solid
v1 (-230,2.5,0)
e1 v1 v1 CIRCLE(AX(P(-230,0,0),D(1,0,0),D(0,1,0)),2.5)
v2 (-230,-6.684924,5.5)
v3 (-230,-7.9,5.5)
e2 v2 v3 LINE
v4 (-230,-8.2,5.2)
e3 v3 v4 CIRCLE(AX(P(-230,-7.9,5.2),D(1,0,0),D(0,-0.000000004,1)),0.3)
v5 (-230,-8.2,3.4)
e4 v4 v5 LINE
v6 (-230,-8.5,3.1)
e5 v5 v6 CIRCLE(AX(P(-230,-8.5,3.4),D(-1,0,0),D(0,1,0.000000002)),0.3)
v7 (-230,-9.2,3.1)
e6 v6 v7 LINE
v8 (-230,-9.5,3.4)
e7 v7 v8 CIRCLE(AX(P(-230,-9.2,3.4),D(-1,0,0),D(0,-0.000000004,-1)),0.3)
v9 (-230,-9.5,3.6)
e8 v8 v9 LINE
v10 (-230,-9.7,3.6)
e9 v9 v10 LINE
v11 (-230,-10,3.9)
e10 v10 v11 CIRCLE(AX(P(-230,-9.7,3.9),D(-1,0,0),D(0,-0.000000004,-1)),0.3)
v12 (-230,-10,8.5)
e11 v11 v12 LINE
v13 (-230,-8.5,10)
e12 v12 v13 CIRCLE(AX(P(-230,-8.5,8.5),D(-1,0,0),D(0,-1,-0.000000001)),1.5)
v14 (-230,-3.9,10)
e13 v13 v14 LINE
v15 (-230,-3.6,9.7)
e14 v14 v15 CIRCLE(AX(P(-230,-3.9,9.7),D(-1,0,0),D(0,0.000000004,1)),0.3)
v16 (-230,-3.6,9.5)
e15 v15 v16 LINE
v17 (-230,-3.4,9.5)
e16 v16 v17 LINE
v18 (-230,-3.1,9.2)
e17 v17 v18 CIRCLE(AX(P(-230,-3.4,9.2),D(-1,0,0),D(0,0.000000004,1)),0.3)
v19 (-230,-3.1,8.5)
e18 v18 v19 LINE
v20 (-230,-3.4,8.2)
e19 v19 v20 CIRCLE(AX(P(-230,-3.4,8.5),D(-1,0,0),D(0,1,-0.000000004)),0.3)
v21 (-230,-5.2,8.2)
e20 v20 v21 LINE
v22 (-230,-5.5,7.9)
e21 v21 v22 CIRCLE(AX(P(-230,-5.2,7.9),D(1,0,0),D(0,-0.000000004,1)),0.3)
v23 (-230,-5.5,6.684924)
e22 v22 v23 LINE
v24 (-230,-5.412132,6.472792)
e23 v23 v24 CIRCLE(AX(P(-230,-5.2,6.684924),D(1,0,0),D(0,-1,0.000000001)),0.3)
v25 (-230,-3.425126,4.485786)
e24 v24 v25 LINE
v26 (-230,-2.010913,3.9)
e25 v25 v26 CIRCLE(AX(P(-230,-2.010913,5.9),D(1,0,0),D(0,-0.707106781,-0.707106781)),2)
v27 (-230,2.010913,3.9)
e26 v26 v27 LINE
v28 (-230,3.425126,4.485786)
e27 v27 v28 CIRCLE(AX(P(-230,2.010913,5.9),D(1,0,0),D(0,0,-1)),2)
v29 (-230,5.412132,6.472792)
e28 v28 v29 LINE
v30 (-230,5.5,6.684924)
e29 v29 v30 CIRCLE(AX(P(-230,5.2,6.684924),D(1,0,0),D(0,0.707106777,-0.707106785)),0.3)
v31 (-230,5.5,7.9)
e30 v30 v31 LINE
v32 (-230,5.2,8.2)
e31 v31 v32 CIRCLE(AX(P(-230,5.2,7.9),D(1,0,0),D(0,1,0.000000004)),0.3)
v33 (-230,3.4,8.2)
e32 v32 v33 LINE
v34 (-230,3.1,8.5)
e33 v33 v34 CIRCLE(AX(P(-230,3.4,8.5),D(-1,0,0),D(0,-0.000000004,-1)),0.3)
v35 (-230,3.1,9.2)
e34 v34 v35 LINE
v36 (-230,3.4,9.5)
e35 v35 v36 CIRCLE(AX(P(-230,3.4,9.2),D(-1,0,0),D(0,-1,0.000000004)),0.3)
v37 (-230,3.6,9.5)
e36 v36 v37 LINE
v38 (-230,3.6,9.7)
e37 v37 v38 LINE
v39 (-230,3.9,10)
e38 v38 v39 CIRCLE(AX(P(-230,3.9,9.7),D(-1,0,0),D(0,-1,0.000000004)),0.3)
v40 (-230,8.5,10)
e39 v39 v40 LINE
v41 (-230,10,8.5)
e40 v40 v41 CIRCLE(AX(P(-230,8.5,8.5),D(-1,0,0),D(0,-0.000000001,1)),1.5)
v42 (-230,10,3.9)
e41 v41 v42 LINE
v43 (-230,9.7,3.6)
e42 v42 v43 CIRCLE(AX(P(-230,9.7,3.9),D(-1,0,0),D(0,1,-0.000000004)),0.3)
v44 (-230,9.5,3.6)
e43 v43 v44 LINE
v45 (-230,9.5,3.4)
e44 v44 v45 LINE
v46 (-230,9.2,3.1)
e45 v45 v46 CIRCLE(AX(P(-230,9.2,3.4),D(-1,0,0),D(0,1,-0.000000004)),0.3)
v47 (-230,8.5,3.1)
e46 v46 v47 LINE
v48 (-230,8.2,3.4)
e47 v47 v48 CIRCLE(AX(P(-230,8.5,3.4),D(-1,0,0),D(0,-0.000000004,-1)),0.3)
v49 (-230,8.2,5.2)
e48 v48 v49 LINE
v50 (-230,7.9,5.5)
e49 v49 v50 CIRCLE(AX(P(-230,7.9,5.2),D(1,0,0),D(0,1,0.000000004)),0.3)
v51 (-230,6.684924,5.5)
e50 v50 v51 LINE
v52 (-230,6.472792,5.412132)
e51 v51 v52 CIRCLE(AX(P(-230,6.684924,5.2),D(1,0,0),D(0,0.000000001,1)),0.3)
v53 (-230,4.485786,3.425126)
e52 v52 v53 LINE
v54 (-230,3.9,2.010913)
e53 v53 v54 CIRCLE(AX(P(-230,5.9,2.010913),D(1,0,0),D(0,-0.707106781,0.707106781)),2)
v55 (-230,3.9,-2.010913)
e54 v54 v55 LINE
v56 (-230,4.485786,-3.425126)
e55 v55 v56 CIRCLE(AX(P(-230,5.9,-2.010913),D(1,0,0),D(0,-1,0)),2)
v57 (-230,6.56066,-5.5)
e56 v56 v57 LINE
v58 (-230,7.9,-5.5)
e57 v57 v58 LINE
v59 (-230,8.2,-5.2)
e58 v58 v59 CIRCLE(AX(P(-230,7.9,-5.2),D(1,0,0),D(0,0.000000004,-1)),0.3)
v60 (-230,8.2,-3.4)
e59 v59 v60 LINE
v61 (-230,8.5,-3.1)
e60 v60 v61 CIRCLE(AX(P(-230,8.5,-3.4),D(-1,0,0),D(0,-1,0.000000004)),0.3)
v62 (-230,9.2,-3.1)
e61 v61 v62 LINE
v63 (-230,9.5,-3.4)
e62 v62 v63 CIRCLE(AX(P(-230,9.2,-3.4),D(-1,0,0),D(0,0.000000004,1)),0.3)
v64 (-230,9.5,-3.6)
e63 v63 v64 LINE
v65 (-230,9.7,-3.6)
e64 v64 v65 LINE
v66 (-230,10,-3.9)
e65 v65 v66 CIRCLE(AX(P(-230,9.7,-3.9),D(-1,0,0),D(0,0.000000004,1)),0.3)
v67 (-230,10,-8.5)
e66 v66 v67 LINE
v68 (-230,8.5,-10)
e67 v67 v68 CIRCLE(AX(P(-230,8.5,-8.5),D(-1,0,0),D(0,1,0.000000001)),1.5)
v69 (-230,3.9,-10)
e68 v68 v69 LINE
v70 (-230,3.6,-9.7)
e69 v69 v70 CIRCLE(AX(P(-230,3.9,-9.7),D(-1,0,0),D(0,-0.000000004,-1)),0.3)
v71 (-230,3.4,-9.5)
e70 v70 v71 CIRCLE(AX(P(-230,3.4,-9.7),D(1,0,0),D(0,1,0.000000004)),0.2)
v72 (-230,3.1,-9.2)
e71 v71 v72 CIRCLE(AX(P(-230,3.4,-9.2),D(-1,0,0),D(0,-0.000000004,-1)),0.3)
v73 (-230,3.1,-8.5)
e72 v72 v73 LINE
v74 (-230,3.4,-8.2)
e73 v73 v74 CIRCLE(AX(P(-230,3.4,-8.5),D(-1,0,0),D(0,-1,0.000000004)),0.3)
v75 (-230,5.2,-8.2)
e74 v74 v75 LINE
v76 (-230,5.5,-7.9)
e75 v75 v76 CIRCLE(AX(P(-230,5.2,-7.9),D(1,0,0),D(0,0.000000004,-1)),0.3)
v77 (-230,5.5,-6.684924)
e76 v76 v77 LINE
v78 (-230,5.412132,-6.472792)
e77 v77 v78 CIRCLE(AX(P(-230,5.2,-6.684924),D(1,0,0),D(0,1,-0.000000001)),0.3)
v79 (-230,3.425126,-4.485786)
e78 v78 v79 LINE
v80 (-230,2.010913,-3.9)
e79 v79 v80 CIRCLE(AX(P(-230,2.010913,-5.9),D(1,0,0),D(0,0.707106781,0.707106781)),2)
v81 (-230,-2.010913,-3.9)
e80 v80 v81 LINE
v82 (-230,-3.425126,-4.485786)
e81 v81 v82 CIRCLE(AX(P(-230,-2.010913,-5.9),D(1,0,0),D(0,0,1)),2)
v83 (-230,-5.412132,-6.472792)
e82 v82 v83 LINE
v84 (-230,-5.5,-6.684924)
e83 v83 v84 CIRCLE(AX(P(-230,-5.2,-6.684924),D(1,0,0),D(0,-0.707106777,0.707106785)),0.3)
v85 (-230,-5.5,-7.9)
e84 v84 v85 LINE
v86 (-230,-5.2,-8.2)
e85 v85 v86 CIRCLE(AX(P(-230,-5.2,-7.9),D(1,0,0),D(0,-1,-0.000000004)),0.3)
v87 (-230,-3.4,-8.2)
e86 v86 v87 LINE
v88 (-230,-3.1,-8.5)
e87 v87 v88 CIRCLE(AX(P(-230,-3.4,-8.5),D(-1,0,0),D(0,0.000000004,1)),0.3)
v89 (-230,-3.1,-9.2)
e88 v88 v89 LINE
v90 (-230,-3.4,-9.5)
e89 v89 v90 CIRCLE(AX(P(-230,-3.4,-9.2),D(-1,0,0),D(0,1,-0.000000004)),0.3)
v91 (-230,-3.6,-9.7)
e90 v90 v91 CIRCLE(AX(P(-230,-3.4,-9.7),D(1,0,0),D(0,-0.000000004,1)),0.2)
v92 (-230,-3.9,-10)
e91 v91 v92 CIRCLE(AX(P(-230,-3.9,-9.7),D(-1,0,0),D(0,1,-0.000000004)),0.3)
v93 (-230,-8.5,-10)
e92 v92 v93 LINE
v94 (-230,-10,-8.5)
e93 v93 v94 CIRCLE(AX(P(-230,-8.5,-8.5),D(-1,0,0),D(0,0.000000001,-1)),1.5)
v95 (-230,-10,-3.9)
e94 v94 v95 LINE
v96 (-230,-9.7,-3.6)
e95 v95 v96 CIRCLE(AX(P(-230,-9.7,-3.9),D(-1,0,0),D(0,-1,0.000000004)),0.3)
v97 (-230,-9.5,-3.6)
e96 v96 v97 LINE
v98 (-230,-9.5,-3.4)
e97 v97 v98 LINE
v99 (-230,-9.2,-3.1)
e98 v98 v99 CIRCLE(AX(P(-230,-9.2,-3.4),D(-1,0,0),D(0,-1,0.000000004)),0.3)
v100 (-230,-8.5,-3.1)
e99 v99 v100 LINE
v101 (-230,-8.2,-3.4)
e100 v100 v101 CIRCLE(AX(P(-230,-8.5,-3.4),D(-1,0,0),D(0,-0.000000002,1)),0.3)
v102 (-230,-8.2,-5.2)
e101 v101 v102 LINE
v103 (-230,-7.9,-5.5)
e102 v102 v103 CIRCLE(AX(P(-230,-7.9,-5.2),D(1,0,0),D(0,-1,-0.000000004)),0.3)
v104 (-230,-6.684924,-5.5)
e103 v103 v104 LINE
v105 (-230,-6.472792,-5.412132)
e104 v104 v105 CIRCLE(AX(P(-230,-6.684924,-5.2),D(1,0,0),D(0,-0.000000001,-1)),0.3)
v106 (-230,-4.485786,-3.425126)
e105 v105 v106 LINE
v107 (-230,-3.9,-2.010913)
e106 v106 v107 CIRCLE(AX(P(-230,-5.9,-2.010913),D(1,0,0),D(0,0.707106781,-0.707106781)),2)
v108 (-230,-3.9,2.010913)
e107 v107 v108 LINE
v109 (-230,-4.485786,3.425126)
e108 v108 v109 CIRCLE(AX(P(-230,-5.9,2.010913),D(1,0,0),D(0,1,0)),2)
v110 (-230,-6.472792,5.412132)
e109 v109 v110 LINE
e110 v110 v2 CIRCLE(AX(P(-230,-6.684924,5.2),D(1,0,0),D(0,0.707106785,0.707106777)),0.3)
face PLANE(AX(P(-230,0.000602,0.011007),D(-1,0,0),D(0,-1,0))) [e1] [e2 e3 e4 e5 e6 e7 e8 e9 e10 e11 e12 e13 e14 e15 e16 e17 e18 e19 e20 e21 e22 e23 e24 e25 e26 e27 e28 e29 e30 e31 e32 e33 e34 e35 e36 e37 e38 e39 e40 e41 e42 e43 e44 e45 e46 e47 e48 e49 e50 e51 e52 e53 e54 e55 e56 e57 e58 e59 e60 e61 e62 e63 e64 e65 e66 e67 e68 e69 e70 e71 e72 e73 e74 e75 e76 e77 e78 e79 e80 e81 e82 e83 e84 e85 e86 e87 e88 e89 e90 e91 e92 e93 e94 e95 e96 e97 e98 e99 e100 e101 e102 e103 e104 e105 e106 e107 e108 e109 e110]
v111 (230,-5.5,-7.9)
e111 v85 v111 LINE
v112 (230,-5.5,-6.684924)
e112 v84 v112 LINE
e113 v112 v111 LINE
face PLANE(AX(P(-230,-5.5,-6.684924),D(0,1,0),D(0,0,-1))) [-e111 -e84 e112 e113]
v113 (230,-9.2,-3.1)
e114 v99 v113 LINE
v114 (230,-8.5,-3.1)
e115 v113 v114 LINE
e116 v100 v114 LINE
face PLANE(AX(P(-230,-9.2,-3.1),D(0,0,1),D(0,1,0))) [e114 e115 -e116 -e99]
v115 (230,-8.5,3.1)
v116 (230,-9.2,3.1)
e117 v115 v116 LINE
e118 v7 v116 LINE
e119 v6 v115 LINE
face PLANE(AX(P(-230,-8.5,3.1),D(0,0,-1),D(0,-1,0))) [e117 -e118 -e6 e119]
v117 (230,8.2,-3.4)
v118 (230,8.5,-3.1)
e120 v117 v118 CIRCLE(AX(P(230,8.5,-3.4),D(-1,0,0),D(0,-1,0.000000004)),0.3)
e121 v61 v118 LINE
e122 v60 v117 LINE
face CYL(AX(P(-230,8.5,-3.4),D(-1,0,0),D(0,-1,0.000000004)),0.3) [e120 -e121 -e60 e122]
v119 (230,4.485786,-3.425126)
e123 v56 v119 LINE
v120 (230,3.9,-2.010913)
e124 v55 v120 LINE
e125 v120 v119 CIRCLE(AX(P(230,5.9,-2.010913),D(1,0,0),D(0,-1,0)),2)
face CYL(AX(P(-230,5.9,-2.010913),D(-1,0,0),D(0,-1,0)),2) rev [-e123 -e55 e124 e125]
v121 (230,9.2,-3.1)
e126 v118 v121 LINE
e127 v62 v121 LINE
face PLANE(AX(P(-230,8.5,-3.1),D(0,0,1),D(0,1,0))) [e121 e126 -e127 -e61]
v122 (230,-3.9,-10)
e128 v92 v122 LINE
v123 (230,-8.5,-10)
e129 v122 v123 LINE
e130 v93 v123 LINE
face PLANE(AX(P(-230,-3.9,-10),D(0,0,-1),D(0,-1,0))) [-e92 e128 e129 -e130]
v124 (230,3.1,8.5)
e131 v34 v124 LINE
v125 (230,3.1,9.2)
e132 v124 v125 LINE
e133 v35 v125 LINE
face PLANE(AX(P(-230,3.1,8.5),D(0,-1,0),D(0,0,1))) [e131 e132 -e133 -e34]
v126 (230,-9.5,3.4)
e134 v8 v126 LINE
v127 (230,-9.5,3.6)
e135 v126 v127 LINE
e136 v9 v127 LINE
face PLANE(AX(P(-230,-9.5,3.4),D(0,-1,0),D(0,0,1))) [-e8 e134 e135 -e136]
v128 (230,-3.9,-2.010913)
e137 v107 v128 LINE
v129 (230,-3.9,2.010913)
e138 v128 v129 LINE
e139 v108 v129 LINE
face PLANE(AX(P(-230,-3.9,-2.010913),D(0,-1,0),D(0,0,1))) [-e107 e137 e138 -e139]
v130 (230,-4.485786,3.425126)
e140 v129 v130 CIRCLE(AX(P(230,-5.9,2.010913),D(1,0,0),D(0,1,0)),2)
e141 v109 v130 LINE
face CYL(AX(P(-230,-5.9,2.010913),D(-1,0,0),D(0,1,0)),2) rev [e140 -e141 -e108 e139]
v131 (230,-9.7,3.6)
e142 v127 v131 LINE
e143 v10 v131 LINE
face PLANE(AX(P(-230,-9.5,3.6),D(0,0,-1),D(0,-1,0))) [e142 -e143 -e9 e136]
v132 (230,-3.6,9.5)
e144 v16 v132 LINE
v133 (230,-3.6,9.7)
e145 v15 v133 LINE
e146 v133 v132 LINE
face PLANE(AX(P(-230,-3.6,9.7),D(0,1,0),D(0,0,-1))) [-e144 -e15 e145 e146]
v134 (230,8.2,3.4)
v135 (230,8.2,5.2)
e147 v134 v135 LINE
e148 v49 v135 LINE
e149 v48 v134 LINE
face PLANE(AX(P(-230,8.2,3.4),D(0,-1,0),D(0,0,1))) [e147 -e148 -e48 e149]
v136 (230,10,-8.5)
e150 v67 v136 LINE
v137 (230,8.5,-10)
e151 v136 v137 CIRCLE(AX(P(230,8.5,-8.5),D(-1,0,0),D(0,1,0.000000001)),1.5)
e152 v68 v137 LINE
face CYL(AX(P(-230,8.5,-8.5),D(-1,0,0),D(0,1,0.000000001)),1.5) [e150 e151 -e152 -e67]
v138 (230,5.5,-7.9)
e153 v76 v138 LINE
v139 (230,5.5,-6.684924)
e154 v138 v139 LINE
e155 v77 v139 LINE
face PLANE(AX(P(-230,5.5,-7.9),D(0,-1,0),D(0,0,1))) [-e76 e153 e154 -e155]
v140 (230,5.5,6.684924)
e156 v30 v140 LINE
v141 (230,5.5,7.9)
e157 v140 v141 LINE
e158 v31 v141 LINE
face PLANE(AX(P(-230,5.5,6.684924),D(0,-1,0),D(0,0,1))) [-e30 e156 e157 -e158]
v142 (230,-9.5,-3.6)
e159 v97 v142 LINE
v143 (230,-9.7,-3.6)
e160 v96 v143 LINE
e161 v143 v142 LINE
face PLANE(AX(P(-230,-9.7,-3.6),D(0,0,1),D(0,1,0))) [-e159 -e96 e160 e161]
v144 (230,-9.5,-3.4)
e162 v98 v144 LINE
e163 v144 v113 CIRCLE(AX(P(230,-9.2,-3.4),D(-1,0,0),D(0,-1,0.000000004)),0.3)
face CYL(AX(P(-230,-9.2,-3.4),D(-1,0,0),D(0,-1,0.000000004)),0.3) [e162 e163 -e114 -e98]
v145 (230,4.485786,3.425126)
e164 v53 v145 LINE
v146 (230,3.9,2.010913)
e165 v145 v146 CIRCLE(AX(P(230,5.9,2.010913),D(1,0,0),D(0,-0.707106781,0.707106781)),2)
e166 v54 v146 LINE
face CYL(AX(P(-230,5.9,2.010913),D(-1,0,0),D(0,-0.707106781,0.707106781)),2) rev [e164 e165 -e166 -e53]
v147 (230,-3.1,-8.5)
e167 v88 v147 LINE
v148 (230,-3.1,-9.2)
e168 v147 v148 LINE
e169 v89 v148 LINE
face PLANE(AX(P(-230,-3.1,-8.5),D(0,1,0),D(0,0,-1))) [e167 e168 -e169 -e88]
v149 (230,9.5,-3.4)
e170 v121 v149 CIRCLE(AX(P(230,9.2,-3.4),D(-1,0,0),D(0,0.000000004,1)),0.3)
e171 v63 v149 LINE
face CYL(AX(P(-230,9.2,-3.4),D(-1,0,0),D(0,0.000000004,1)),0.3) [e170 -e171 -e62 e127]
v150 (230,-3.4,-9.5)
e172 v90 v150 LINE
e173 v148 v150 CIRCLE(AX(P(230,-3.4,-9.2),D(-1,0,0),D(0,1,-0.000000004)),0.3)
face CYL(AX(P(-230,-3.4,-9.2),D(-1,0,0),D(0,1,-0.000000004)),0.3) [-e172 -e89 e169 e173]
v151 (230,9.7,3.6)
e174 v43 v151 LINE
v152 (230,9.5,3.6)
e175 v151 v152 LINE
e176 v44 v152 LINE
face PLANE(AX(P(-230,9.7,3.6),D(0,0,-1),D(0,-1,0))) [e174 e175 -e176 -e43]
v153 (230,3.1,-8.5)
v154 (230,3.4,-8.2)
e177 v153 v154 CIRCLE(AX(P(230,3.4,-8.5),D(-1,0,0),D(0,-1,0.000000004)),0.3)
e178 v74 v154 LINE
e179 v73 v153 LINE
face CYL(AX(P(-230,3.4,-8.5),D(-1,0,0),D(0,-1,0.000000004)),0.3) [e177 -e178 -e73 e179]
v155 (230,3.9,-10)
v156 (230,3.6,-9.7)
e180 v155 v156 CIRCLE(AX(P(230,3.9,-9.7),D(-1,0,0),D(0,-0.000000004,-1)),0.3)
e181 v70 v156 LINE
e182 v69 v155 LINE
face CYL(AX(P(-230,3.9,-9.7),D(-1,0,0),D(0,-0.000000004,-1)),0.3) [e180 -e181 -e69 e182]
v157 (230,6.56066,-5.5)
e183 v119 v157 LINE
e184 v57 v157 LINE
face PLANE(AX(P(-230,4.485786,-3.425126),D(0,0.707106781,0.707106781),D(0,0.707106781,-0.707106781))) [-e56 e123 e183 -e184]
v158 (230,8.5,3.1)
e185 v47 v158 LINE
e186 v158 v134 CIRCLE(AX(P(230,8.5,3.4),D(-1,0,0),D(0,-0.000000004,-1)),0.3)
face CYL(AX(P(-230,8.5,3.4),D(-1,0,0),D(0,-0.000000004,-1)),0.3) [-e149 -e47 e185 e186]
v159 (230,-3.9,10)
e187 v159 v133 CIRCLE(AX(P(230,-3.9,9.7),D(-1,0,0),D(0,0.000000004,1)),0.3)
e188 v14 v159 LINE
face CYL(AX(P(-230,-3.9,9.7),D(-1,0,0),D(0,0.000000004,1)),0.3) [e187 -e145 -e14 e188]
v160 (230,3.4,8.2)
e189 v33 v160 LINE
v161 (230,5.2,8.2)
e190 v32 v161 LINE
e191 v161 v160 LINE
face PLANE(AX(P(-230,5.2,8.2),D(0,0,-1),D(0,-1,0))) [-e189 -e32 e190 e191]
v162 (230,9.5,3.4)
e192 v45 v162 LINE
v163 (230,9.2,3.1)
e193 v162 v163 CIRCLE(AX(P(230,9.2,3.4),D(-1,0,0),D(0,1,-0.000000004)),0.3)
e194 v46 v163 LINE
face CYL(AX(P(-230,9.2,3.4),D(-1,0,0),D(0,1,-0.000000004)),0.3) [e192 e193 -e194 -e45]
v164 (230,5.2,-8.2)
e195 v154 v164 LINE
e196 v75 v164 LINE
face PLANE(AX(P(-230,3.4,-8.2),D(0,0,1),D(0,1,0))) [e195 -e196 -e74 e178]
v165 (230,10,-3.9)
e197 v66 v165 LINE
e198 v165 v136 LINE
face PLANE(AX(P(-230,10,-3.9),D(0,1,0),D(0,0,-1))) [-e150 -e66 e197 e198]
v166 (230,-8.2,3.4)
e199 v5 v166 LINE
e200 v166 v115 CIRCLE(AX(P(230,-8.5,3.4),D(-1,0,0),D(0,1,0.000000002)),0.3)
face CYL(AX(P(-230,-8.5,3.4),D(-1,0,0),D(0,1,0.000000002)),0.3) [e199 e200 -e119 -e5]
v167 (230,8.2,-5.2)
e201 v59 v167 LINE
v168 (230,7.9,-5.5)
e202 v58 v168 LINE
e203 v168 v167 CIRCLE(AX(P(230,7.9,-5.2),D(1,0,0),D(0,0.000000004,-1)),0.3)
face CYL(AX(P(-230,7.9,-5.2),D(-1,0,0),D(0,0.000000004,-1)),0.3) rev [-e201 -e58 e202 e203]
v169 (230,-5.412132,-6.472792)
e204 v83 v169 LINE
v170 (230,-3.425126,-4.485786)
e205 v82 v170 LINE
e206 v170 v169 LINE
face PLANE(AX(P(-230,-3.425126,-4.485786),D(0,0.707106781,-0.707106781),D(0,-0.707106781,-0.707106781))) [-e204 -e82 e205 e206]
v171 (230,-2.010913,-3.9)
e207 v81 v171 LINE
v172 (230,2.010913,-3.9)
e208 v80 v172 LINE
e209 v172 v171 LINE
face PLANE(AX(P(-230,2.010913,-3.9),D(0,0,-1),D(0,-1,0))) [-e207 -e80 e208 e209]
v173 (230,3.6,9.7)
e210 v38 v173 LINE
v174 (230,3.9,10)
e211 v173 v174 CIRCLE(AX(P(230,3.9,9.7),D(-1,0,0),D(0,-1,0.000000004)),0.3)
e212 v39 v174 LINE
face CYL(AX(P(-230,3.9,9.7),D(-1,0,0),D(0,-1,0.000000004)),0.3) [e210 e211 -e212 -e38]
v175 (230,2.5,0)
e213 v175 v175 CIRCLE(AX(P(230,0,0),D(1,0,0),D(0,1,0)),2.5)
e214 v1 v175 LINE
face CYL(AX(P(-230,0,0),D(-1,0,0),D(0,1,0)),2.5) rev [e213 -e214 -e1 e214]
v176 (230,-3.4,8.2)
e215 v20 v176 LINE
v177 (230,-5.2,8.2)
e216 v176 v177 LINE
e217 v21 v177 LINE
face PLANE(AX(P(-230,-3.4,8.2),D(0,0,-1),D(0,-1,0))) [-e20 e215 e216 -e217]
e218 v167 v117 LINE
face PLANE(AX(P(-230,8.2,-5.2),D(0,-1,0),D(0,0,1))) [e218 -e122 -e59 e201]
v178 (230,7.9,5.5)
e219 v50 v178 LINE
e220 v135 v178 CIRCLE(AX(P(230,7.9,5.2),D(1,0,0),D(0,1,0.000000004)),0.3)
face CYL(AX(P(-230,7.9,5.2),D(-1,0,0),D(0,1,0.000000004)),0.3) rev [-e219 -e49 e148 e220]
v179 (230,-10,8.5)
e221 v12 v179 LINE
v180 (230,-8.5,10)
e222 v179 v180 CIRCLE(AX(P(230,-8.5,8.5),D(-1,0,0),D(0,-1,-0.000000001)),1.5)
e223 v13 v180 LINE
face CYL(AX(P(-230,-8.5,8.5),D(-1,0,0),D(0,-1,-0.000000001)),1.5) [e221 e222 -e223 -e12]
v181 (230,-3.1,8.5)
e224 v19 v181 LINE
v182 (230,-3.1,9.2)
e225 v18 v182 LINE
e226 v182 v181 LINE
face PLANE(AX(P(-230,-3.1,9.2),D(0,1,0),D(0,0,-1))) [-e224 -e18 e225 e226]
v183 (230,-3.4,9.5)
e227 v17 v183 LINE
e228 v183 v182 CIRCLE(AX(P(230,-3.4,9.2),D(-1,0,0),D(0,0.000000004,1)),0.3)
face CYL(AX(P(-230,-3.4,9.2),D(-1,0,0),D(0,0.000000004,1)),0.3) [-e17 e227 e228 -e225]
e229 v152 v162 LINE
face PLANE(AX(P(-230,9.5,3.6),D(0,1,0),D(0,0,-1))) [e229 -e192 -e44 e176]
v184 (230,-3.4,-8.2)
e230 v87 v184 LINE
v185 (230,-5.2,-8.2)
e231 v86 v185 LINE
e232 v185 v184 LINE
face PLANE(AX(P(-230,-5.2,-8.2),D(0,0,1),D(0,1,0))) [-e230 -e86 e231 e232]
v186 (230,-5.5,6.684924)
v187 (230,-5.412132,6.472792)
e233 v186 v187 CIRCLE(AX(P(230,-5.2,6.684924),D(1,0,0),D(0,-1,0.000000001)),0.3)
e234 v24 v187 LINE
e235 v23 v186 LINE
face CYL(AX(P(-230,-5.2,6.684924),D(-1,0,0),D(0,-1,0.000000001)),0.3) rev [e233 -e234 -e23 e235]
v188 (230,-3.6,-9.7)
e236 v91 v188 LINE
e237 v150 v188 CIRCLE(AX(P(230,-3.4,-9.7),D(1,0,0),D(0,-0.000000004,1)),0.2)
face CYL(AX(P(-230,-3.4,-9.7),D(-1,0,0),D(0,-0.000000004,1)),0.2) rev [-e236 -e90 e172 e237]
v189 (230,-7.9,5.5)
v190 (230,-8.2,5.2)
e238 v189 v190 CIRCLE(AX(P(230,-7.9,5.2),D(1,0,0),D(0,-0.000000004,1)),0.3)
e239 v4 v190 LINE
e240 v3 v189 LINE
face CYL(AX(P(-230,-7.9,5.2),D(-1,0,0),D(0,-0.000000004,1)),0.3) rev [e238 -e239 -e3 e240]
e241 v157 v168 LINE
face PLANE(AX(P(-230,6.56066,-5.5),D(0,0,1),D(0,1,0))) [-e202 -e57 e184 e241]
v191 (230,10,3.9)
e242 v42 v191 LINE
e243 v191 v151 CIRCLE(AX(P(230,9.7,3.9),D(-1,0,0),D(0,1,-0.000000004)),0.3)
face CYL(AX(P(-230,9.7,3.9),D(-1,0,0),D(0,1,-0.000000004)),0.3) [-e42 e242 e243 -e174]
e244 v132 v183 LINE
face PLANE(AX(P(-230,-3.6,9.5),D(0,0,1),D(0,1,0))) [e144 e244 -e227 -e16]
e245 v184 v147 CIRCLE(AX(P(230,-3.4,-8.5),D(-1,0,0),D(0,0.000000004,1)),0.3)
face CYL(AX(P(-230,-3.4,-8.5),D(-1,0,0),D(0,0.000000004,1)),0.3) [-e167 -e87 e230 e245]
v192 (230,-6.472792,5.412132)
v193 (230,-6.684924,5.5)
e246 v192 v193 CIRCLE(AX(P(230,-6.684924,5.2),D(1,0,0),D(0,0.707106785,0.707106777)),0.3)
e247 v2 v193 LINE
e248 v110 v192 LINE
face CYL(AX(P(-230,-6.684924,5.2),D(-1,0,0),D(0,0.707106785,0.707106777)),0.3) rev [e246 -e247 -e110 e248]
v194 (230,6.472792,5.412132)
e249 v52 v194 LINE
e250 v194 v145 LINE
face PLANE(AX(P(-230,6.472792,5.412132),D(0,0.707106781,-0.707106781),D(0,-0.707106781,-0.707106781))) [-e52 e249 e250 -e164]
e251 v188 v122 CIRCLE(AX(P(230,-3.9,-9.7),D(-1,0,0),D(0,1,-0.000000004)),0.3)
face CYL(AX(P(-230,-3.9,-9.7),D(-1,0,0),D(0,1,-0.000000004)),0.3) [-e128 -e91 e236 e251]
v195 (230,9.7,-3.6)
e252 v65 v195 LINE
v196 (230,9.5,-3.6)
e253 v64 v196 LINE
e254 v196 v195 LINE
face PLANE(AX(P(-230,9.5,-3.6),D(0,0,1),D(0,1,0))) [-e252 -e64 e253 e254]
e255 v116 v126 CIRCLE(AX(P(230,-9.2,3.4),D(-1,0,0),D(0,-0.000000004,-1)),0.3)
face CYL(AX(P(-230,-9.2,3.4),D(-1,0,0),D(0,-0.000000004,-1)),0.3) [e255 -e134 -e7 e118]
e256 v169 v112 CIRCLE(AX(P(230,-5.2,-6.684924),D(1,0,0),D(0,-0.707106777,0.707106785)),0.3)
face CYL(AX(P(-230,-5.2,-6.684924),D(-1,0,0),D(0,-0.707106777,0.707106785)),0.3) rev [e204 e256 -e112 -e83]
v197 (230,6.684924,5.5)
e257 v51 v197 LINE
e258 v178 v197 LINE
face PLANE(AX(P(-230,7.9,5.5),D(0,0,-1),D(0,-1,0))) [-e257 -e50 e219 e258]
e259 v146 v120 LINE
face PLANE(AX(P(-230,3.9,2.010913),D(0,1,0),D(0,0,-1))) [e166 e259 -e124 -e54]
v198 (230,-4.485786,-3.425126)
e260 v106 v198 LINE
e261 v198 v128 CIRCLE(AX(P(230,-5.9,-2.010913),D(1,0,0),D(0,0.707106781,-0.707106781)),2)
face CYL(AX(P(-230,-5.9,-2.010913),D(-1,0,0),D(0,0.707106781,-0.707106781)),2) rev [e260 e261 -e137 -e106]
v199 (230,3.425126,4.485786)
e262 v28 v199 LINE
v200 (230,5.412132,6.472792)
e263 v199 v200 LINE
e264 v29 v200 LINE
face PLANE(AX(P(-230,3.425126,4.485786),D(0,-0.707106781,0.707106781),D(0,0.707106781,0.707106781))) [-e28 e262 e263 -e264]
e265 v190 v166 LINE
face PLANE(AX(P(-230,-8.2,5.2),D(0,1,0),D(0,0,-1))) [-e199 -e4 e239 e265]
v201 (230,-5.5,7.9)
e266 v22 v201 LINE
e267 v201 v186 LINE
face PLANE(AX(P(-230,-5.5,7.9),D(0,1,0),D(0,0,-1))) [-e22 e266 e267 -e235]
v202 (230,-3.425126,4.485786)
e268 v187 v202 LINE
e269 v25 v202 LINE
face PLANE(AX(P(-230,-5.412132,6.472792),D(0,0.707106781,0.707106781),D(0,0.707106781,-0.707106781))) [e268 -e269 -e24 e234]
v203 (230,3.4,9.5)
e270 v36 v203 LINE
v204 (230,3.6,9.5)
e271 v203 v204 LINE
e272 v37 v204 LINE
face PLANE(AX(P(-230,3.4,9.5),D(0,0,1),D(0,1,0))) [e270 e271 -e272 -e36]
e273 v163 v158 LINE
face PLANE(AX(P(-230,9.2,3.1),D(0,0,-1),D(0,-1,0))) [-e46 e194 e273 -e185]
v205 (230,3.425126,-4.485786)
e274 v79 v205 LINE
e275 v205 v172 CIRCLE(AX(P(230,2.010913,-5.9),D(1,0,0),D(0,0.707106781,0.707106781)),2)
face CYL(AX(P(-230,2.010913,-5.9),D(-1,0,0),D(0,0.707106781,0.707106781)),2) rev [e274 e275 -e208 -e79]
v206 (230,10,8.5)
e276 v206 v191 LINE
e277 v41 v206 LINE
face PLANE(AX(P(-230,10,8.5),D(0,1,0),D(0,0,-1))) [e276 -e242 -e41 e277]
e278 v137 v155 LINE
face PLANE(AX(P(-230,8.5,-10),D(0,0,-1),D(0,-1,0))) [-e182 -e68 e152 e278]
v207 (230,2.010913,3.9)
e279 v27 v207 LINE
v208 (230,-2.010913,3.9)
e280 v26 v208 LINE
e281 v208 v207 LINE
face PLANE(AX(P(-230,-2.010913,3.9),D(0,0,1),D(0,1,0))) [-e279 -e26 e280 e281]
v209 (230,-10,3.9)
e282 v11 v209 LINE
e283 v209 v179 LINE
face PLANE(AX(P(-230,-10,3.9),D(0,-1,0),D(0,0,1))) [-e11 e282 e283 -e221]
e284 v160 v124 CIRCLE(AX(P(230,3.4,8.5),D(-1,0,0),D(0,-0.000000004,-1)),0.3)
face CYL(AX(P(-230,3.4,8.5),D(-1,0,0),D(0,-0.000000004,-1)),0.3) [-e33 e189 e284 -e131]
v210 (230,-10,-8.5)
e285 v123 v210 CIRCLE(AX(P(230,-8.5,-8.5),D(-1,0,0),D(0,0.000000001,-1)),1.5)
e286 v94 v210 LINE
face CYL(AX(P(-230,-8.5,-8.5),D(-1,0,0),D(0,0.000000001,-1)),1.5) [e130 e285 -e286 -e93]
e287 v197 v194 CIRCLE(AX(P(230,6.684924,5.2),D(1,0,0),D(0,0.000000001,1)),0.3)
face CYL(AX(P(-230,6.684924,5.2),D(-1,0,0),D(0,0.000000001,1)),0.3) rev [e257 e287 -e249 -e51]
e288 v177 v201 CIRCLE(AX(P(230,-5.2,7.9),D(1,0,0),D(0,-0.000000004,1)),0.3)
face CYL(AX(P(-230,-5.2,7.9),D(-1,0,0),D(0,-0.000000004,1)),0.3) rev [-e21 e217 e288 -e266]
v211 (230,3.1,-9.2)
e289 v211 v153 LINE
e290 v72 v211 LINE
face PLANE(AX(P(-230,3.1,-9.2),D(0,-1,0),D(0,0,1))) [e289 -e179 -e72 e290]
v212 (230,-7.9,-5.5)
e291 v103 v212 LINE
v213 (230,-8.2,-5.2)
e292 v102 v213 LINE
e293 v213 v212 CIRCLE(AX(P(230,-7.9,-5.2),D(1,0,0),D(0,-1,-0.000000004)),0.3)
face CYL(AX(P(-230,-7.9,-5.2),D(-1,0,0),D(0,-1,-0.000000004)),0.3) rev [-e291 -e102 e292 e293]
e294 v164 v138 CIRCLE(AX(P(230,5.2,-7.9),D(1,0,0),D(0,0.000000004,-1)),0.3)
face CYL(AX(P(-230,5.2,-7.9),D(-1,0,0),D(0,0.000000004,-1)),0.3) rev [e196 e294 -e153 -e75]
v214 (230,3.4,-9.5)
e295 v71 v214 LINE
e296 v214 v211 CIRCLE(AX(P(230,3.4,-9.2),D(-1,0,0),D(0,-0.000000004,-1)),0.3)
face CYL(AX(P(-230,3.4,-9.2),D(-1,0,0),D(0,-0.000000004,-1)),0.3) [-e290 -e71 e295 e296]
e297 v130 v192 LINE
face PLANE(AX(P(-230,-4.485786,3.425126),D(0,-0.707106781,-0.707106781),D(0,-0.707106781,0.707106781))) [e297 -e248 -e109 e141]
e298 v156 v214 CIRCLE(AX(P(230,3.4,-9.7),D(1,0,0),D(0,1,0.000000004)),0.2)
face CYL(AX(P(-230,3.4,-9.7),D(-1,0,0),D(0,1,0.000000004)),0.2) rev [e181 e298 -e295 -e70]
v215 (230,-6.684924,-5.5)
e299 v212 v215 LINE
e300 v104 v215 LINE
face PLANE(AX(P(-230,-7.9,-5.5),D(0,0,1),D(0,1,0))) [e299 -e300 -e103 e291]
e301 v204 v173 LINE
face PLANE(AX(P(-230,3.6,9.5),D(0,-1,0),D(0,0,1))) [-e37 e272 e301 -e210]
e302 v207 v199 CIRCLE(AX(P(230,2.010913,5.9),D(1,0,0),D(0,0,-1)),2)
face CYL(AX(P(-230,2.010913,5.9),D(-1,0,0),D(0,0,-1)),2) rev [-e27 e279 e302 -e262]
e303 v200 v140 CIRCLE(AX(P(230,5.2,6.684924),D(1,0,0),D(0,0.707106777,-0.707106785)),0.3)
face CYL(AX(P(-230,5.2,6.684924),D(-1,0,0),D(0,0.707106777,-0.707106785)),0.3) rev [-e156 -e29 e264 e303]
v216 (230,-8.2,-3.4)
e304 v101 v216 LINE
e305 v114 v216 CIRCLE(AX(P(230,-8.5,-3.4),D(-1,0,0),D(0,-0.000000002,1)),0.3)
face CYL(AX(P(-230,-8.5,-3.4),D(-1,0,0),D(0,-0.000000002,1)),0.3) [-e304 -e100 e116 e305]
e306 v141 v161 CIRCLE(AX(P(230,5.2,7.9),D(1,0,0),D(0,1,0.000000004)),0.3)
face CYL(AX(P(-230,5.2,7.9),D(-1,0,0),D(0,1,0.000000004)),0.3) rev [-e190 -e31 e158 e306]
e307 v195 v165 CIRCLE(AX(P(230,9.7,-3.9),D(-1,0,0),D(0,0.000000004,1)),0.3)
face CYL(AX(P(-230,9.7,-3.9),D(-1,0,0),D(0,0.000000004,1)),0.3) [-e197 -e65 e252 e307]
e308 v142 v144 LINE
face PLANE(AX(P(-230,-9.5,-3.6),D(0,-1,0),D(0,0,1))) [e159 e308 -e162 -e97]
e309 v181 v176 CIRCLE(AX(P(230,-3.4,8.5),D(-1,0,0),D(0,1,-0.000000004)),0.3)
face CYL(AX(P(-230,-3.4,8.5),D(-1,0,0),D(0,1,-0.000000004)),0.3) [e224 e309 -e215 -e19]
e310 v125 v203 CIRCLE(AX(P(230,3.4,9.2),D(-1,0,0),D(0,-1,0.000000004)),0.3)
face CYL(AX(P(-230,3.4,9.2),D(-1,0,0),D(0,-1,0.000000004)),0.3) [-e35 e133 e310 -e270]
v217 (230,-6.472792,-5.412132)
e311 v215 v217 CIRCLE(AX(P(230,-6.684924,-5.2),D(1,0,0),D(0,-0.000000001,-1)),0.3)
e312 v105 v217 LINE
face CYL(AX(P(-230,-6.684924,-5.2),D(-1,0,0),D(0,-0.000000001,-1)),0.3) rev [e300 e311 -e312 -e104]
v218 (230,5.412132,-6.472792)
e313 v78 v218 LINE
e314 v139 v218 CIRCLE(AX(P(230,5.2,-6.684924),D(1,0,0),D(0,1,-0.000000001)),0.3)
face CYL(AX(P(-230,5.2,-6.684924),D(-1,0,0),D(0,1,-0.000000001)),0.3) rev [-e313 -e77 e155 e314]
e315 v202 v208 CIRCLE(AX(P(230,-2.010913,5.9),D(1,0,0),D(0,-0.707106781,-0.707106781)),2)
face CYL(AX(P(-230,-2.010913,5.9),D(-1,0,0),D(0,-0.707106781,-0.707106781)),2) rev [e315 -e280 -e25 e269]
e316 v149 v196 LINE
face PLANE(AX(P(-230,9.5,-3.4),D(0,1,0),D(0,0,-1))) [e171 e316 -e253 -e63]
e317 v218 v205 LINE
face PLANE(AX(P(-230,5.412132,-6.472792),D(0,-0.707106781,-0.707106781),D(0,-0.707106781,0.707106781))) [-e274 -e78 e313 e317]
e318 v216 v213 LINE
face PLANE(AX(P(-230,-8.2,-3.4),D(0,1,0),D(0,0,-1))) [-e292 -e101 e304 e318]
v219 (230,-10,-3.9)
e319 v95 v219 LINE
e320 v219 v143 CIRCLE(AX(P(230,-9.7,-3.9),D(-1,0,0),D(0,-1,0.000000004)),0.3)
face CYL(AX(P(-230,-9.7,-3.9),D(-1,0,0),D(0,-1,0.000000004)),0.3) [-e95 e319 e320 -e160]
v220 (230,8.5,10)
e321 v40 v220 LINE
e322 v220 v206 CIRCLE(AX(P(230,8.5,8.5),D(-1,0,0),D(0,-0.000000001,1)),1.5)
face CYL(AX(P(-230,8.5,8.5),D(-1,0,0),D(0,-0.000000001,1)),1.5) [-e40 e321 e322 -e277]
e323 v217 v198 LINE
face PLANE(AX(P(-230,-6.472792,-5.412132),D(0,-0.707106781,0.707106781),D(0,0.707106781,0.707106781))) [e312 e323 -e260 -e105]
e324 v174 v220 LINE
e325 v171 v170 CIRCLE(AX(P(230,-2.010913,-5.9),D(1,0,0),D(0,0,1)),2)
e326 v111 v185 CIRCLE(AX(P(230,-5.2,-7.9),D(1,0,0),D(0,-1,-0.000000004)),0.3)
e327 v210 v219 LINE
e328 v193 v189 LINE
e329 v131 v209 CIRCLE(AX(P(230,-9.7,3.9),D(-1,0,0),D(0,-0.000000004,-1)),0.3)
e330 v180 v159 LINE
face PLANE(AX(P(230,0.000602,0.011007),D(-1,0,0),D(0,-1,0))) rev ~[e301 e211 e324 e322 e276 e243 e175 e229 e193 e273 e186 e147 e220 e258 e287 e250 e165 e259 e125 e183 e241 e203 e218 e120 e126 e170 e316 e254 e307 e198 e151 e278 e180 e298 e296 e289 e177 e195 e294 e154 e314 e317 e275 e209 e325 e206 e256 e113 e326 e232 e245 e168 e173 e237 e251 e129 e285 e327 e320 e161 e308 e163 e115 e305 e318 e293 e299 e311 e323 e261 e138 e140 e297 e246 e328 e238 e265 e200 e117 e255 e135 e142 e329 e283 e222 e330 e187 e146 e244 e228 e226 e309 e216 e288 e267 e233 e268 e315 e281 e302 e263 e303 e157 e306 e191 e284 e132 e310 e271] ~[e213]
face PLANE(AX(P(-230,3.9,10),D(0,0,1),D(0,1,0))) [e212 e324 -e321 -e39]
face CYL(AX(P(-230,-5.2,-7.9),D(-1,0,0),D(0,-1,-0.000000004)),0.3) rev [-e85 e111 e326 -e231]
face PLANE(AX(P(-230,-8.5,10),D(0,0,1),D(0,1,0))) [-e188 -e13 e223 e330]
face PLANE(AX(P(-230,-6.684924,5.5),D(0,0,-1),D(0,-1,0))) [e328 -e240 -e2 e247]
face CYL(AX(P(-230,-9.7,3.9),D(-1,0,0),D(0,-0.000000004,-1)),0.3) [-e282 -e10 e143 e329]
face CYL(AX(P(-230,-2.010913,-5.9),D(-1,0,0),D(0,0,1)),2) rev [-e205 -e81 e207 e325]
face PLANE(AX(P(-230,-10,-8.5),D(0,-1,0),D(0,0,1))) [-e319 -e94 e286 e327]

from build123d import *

# Parameters (mm, degrees)
SKETCH_1_R          = 2.5
MEMBER_2020_1_DEPTH = 460


with BuildPart() as part:
    # 草图1 → Member 2020_1 (new body)
    with BuildSketch(Plane.YZ.offset(-230)):
        with BuildLine():
            Line((3.9, 0), (3.9, -2.010912703))
            ThreePointArc((3.9, -2.010912703), (4.052240935, -2.776279568), (4.485786438, -3.425126266))
            Line((4.485786438, -3.425126266), (6.560660172, -5.5))
            Line((6.560660172, -5.5), (7.9, -5.5))
            ThreePointArc((7.9, -5.5), (8.112132034, -5.412132034), (8.2, -5.2))
            Line((8.2, -5.2), (8.2, -3.4))
            ThreePointArc((8.2, -3.4), (8.287867966, -3.187867966), (8.5, -3.1))
            Line((8.5, -3.1), (9.2, -3.1))
            ThreePointArc((9.2, -3.1), (9.412132034, -3.187867966), (9.5, -3.4))
            Line((9.5, -3.4), (9.5, -3.6))
            Line((9.5, -3.6), (9.7, -3.6))
            ThreePointArc((9.7, -3.6), (9.912132034, -3.687867966), (10, -3.9))
            Line((10, -3.9), (10, -8.5))
            ThreePointArc((10, -8.5), (9.560660172, -9.560660172), (8.5, -10))
            Line((8.5, -10), (3.9, -10))
            ThreePointArc((3.9, -10), (3.687867966, -9.912132034), (3.6, -9.7))
            ThreePointArc((3.6, -9.7), (3.541421356, -9.558578644), (3.4, -9.5))
            ThreePointArc((3.4, -9.5), (3.187867966, -9.412132034), (3.1, -9.2))
            Line((3.1, -9.2), (3.1, -8.5))
            ThreePointArc((3.1, -8.5), (3.187867966, -8.287867966), (3.4, -8.2))
            Line((3.4, -8.2), (5.2, -8.2))
            ThreePointArc((5.2, -8.2), (5.412132034, -8.112132034), (5.5, -7.9))
            Line((5.5, -7.9), (5.5, -6.68492424))
            ThreePointArc((5.5, -6.68492424), (5.47716386, -6.570119211), (5.412132034, -6.472792206))
            Line((5.412132034, -6.472792206), (3.425126266, -4.485786438))
            ThreePointArc((3.425126266, -4.485786438), (2.776279568, -4.052240935), (2.010912703, -3.9))
            Line((2.010912703, -3.9), (0, -3.9))
            Line((0, -3.9), (-2.010912703, -3.9))
            ThreePointArc((-2.010912703, -3.9), (-2.776279568, -4.052240935), (-3.425126266, -4.485786438))
            Line((-3.425126266, -4.485786438), (-5.412132034, -6.472792206))
            ThreePointArc((-5.412132034, -6.472792206), (-5.47716386, -6.570119211), (-5.5, -6.68492424))
            Line((-5.5, -6.68492424), (-5.5, -7.9))
            ThreePointArc((-5.5, -7.9), (-5.412132034, -8.112132034), (-5.2, -8.2))
            Line((-5.2, -8.2), (-3.4, -8.2))
            ThreePointArc((-3.4, -8.2), (-3.187867966, -8.287867966), (-3.1, -8.5))
            Line((-3.1, -8.5), (-3.1, -9.2))
            ThreePointArc((-3.1, -9.2), (-3.187867966, -9.412132034), (-3.4, -9.5))
            ThreePointArc((-3.4, -9.5), (-3.541421356, -9.558578644), (-3.6, -9.7))
            ThreePointArc((-3.6, -9.7), (-3.687867966, -9.912132034), (-3.9, -10))
            Line((-3.9, -10), (-8.5, -10))
            ThreePointArc((-8.5, -10), (-9.560660172, -9.560660172), (-10, -8.5))
            Line((-10, -8.5), (-10, -3.9))
            ThreePointArc((-10, -3.9), (-9.912132034, -3.687867966), (-9.7, -3.6))
            Line((-9.7, -3.6), (-9.5, -3.6))
            Line((-9.5, -3.6), (-9.5, -3.4))
            ThreePointArc((-9.5, -3.4), (-9.412132034, -3.187867966), (-9.2, -3.1))
            Line((-9.2, -3.1), (-8.5, -3.1))
            ThreePointArc((-8.5, -3.1), (-8.287867965, -3.187867966), (-8.2, -3.4))
            Line((-8.2, -3.4), (-8.2, -5.2))
            ThreePointArc((-8.2, -5.2), (-8.112132034, -5.412132034), (-7.9, -5.5))
            Line((-7.9, -5.5), (-6.68492424, -5.5))
            ThreePointArc((-6.68492424, -5.5), (-6.570119211, -5.47716386), (-6.472792206, -5.412132034))
            Line((-6.472792206, -5.412132034), (-4.485786438, -3.425126266))
            ThreePointArc((-4.485786438, -3.425126266), (-4.052240935, -2.776279568), (-3.9, -2.010912703))
            Line((-3.9, -2.010912703), (-3.9, 0))
            Line((-3.9, 0), (-3.9, 2.010912703))
            ThreePointArc((-3.9, 2.010912703), (-4.052240935, 2.776279568), (-4.485786438, 3.425126266))
            Line((-4.485786438, 3.425126266), (-6.472792206, 5.412132034))
            ThreePointArc((-6.472792206, 5.412132034), (-6.570119211, 5.47716386), (-6.68492424, 5.5))
            Line((-6.68492424, 5.5), (-7.9, 5.5))
            ThreePointArc((-7.9, 5.5), (-8.112132034, 5.412132034), (-8.2, 5.2))
            Line((-8.2, 5.2), (-8.2, 3.4))
            ThreePointArc((-8.2, 3.4), (-8.287867965, 3.187867966), (-8.5, 3.1))
            Line((-8.5, 3.1), (-9.2, 3.1))
            ThreePointArc((-9.2, 3.1), (-9.412132034, 3.187867966), (-9.5, 3.4))
            Line((-9.5, 3.4), (-9.5, 3.6))
            Line((-9.5, 3.6), (-9.7, 3.6))
            ThreePointArc((-9.7, 3.6), (-9.912132034, 3.687867966), (-10, 3.9))
            Line((-10, 3.9), (-10, 8.5))
            ThreePointArc((-10, 8.5), (-9.560660172, 9.560660172), (-8.5, 10))
            Line((-8.5, 10), (-3.9, 10))
            ThreePointArc((-3.9, 10), (-3.687867966, 9.912132034), (-3.6, 9.7))
            Line((-3.6, 9.7), (-3.6, 9.5))
            Line((-3.6, 9.5), (-3.4, 9.5))
            ThreePointArc((-3.4, 9.5), (-3.187867966, 9.412132034), (-3.1, 9.2))
            Line((-3.1, 9.2), (-3.1, 8.5))
            ThreePointArc((-3.1, 8.5), (-3.187867966, 8.287867966), (-3.4, 8.2))
            Line((-3.4, 8.2), (-5.2, 8.2))
            ThreePointArc((-5.2, 8.2), (-5.412132034, 8.112132034), (-5.5, 7.9))
            Line((-5.5, 7.9), (-5.5, 6.68492424))
            ThreePointArc((-5.5, 6.68492424), (-5.47716386, 6.570119211), (-5.412132034, 6.472792206))
            Line((-5.412132034, 6.472792206), (-3.425126266, 4.485786438))
            ThreePointArc((-3.425126266, 4.485786438), (-2.776279568, 4.052240935), (-2.010912703, 3.9))
            Line((-2.010912703, 3.9), (0, 3.9))
            Line((0, 3.9), (2.010912703, 3.9))
            ThreePointArc((2.010912703, 3.9), (2.776279568, 4.052240935), (3.425126266, 4.485786438))
            Line((3.425126266, 4.485786438), (5.412132034, 6.472792206))
            ThreePointArc((5.412132034, 6.472792206), (5.47716386, 6.570119211), (5.5, 6.68492424))
            Line((5.5, 6.68492424), (5.5, 7.9))
            ThreePointArc((5.5, 7.9), (5.412132034, 8.112132034), (5.2, 8.2))
            Line((5.2, 8.2), (3.4, 8.2))
            ThreePointArc((3.4, 8.2), (3.187867966, 8.287867966), (3.1, 8.5))
            Line((3.1, 8.5), (3.1, 9.2))
            ThreePointArc((3.1, 9.2), (3.187867966, 9.412132034), (3.4, 9.5))
            Line((3.4, 9.5), (3.6, 9.5))
            Line((3.6, 9.5), (3.6, 9.7))
            ThreePointArc((3.6, 9.7), (3.687867966, 9.912132034), (3.9, 10))
            Line((3.9, 10), (8.5, 10))
            ThreePointArc((8.5, 10), (9.560660172, 9.560660172), (10, 8.5))
            Line((10, 8.5), (10, 3.9))
            ThreePointArc((10, 3.9), (9.912132034, 3.687867966), (9.7, 3.6))
            Line((9.7, 3.6), (9.5, 3.6))
            Line((9.5, 3.6), (9.5, 3.4))
            ThreePointArc((9.5, 3.4), (9.412132034, 3.187867966), (9.2, 3.1))
            Line((9.2, 3.1), (8.5, 3.1))
            ThreePointArc((8.5, 3.1), (8.287867966, 3.187867966), (8.2, 3.4))
            Line((8.2, 3.4), (8.2, 5.2))
            ThreePointArc((8.2, 5.2), (8.112132034, 5.412132034), (7.9, 5.5))
            Line((7.9, 5.5), (6.68492424, 5.5))
            ThreePointArc((6.68492424, 5.5), (6.570119211, 5.47716386), (6.472792206, 5.412132034))
            Line((6.472792206, 5.412132034), (4.485786438, 3.425126266))
            ThreePointArc((4.485786438, 3.425126266), (4.052240935, 2.776279568), (3.9, 2.010912703))
            Line((3.9, 2.010912703), (3.9, 0))
        make_face()
        Circle(SKETCH_1_R, mode=Mode.SUBTRACT)
    extrude(amount=MEMBER_2020_1_DEPTH)


solid = part.part
